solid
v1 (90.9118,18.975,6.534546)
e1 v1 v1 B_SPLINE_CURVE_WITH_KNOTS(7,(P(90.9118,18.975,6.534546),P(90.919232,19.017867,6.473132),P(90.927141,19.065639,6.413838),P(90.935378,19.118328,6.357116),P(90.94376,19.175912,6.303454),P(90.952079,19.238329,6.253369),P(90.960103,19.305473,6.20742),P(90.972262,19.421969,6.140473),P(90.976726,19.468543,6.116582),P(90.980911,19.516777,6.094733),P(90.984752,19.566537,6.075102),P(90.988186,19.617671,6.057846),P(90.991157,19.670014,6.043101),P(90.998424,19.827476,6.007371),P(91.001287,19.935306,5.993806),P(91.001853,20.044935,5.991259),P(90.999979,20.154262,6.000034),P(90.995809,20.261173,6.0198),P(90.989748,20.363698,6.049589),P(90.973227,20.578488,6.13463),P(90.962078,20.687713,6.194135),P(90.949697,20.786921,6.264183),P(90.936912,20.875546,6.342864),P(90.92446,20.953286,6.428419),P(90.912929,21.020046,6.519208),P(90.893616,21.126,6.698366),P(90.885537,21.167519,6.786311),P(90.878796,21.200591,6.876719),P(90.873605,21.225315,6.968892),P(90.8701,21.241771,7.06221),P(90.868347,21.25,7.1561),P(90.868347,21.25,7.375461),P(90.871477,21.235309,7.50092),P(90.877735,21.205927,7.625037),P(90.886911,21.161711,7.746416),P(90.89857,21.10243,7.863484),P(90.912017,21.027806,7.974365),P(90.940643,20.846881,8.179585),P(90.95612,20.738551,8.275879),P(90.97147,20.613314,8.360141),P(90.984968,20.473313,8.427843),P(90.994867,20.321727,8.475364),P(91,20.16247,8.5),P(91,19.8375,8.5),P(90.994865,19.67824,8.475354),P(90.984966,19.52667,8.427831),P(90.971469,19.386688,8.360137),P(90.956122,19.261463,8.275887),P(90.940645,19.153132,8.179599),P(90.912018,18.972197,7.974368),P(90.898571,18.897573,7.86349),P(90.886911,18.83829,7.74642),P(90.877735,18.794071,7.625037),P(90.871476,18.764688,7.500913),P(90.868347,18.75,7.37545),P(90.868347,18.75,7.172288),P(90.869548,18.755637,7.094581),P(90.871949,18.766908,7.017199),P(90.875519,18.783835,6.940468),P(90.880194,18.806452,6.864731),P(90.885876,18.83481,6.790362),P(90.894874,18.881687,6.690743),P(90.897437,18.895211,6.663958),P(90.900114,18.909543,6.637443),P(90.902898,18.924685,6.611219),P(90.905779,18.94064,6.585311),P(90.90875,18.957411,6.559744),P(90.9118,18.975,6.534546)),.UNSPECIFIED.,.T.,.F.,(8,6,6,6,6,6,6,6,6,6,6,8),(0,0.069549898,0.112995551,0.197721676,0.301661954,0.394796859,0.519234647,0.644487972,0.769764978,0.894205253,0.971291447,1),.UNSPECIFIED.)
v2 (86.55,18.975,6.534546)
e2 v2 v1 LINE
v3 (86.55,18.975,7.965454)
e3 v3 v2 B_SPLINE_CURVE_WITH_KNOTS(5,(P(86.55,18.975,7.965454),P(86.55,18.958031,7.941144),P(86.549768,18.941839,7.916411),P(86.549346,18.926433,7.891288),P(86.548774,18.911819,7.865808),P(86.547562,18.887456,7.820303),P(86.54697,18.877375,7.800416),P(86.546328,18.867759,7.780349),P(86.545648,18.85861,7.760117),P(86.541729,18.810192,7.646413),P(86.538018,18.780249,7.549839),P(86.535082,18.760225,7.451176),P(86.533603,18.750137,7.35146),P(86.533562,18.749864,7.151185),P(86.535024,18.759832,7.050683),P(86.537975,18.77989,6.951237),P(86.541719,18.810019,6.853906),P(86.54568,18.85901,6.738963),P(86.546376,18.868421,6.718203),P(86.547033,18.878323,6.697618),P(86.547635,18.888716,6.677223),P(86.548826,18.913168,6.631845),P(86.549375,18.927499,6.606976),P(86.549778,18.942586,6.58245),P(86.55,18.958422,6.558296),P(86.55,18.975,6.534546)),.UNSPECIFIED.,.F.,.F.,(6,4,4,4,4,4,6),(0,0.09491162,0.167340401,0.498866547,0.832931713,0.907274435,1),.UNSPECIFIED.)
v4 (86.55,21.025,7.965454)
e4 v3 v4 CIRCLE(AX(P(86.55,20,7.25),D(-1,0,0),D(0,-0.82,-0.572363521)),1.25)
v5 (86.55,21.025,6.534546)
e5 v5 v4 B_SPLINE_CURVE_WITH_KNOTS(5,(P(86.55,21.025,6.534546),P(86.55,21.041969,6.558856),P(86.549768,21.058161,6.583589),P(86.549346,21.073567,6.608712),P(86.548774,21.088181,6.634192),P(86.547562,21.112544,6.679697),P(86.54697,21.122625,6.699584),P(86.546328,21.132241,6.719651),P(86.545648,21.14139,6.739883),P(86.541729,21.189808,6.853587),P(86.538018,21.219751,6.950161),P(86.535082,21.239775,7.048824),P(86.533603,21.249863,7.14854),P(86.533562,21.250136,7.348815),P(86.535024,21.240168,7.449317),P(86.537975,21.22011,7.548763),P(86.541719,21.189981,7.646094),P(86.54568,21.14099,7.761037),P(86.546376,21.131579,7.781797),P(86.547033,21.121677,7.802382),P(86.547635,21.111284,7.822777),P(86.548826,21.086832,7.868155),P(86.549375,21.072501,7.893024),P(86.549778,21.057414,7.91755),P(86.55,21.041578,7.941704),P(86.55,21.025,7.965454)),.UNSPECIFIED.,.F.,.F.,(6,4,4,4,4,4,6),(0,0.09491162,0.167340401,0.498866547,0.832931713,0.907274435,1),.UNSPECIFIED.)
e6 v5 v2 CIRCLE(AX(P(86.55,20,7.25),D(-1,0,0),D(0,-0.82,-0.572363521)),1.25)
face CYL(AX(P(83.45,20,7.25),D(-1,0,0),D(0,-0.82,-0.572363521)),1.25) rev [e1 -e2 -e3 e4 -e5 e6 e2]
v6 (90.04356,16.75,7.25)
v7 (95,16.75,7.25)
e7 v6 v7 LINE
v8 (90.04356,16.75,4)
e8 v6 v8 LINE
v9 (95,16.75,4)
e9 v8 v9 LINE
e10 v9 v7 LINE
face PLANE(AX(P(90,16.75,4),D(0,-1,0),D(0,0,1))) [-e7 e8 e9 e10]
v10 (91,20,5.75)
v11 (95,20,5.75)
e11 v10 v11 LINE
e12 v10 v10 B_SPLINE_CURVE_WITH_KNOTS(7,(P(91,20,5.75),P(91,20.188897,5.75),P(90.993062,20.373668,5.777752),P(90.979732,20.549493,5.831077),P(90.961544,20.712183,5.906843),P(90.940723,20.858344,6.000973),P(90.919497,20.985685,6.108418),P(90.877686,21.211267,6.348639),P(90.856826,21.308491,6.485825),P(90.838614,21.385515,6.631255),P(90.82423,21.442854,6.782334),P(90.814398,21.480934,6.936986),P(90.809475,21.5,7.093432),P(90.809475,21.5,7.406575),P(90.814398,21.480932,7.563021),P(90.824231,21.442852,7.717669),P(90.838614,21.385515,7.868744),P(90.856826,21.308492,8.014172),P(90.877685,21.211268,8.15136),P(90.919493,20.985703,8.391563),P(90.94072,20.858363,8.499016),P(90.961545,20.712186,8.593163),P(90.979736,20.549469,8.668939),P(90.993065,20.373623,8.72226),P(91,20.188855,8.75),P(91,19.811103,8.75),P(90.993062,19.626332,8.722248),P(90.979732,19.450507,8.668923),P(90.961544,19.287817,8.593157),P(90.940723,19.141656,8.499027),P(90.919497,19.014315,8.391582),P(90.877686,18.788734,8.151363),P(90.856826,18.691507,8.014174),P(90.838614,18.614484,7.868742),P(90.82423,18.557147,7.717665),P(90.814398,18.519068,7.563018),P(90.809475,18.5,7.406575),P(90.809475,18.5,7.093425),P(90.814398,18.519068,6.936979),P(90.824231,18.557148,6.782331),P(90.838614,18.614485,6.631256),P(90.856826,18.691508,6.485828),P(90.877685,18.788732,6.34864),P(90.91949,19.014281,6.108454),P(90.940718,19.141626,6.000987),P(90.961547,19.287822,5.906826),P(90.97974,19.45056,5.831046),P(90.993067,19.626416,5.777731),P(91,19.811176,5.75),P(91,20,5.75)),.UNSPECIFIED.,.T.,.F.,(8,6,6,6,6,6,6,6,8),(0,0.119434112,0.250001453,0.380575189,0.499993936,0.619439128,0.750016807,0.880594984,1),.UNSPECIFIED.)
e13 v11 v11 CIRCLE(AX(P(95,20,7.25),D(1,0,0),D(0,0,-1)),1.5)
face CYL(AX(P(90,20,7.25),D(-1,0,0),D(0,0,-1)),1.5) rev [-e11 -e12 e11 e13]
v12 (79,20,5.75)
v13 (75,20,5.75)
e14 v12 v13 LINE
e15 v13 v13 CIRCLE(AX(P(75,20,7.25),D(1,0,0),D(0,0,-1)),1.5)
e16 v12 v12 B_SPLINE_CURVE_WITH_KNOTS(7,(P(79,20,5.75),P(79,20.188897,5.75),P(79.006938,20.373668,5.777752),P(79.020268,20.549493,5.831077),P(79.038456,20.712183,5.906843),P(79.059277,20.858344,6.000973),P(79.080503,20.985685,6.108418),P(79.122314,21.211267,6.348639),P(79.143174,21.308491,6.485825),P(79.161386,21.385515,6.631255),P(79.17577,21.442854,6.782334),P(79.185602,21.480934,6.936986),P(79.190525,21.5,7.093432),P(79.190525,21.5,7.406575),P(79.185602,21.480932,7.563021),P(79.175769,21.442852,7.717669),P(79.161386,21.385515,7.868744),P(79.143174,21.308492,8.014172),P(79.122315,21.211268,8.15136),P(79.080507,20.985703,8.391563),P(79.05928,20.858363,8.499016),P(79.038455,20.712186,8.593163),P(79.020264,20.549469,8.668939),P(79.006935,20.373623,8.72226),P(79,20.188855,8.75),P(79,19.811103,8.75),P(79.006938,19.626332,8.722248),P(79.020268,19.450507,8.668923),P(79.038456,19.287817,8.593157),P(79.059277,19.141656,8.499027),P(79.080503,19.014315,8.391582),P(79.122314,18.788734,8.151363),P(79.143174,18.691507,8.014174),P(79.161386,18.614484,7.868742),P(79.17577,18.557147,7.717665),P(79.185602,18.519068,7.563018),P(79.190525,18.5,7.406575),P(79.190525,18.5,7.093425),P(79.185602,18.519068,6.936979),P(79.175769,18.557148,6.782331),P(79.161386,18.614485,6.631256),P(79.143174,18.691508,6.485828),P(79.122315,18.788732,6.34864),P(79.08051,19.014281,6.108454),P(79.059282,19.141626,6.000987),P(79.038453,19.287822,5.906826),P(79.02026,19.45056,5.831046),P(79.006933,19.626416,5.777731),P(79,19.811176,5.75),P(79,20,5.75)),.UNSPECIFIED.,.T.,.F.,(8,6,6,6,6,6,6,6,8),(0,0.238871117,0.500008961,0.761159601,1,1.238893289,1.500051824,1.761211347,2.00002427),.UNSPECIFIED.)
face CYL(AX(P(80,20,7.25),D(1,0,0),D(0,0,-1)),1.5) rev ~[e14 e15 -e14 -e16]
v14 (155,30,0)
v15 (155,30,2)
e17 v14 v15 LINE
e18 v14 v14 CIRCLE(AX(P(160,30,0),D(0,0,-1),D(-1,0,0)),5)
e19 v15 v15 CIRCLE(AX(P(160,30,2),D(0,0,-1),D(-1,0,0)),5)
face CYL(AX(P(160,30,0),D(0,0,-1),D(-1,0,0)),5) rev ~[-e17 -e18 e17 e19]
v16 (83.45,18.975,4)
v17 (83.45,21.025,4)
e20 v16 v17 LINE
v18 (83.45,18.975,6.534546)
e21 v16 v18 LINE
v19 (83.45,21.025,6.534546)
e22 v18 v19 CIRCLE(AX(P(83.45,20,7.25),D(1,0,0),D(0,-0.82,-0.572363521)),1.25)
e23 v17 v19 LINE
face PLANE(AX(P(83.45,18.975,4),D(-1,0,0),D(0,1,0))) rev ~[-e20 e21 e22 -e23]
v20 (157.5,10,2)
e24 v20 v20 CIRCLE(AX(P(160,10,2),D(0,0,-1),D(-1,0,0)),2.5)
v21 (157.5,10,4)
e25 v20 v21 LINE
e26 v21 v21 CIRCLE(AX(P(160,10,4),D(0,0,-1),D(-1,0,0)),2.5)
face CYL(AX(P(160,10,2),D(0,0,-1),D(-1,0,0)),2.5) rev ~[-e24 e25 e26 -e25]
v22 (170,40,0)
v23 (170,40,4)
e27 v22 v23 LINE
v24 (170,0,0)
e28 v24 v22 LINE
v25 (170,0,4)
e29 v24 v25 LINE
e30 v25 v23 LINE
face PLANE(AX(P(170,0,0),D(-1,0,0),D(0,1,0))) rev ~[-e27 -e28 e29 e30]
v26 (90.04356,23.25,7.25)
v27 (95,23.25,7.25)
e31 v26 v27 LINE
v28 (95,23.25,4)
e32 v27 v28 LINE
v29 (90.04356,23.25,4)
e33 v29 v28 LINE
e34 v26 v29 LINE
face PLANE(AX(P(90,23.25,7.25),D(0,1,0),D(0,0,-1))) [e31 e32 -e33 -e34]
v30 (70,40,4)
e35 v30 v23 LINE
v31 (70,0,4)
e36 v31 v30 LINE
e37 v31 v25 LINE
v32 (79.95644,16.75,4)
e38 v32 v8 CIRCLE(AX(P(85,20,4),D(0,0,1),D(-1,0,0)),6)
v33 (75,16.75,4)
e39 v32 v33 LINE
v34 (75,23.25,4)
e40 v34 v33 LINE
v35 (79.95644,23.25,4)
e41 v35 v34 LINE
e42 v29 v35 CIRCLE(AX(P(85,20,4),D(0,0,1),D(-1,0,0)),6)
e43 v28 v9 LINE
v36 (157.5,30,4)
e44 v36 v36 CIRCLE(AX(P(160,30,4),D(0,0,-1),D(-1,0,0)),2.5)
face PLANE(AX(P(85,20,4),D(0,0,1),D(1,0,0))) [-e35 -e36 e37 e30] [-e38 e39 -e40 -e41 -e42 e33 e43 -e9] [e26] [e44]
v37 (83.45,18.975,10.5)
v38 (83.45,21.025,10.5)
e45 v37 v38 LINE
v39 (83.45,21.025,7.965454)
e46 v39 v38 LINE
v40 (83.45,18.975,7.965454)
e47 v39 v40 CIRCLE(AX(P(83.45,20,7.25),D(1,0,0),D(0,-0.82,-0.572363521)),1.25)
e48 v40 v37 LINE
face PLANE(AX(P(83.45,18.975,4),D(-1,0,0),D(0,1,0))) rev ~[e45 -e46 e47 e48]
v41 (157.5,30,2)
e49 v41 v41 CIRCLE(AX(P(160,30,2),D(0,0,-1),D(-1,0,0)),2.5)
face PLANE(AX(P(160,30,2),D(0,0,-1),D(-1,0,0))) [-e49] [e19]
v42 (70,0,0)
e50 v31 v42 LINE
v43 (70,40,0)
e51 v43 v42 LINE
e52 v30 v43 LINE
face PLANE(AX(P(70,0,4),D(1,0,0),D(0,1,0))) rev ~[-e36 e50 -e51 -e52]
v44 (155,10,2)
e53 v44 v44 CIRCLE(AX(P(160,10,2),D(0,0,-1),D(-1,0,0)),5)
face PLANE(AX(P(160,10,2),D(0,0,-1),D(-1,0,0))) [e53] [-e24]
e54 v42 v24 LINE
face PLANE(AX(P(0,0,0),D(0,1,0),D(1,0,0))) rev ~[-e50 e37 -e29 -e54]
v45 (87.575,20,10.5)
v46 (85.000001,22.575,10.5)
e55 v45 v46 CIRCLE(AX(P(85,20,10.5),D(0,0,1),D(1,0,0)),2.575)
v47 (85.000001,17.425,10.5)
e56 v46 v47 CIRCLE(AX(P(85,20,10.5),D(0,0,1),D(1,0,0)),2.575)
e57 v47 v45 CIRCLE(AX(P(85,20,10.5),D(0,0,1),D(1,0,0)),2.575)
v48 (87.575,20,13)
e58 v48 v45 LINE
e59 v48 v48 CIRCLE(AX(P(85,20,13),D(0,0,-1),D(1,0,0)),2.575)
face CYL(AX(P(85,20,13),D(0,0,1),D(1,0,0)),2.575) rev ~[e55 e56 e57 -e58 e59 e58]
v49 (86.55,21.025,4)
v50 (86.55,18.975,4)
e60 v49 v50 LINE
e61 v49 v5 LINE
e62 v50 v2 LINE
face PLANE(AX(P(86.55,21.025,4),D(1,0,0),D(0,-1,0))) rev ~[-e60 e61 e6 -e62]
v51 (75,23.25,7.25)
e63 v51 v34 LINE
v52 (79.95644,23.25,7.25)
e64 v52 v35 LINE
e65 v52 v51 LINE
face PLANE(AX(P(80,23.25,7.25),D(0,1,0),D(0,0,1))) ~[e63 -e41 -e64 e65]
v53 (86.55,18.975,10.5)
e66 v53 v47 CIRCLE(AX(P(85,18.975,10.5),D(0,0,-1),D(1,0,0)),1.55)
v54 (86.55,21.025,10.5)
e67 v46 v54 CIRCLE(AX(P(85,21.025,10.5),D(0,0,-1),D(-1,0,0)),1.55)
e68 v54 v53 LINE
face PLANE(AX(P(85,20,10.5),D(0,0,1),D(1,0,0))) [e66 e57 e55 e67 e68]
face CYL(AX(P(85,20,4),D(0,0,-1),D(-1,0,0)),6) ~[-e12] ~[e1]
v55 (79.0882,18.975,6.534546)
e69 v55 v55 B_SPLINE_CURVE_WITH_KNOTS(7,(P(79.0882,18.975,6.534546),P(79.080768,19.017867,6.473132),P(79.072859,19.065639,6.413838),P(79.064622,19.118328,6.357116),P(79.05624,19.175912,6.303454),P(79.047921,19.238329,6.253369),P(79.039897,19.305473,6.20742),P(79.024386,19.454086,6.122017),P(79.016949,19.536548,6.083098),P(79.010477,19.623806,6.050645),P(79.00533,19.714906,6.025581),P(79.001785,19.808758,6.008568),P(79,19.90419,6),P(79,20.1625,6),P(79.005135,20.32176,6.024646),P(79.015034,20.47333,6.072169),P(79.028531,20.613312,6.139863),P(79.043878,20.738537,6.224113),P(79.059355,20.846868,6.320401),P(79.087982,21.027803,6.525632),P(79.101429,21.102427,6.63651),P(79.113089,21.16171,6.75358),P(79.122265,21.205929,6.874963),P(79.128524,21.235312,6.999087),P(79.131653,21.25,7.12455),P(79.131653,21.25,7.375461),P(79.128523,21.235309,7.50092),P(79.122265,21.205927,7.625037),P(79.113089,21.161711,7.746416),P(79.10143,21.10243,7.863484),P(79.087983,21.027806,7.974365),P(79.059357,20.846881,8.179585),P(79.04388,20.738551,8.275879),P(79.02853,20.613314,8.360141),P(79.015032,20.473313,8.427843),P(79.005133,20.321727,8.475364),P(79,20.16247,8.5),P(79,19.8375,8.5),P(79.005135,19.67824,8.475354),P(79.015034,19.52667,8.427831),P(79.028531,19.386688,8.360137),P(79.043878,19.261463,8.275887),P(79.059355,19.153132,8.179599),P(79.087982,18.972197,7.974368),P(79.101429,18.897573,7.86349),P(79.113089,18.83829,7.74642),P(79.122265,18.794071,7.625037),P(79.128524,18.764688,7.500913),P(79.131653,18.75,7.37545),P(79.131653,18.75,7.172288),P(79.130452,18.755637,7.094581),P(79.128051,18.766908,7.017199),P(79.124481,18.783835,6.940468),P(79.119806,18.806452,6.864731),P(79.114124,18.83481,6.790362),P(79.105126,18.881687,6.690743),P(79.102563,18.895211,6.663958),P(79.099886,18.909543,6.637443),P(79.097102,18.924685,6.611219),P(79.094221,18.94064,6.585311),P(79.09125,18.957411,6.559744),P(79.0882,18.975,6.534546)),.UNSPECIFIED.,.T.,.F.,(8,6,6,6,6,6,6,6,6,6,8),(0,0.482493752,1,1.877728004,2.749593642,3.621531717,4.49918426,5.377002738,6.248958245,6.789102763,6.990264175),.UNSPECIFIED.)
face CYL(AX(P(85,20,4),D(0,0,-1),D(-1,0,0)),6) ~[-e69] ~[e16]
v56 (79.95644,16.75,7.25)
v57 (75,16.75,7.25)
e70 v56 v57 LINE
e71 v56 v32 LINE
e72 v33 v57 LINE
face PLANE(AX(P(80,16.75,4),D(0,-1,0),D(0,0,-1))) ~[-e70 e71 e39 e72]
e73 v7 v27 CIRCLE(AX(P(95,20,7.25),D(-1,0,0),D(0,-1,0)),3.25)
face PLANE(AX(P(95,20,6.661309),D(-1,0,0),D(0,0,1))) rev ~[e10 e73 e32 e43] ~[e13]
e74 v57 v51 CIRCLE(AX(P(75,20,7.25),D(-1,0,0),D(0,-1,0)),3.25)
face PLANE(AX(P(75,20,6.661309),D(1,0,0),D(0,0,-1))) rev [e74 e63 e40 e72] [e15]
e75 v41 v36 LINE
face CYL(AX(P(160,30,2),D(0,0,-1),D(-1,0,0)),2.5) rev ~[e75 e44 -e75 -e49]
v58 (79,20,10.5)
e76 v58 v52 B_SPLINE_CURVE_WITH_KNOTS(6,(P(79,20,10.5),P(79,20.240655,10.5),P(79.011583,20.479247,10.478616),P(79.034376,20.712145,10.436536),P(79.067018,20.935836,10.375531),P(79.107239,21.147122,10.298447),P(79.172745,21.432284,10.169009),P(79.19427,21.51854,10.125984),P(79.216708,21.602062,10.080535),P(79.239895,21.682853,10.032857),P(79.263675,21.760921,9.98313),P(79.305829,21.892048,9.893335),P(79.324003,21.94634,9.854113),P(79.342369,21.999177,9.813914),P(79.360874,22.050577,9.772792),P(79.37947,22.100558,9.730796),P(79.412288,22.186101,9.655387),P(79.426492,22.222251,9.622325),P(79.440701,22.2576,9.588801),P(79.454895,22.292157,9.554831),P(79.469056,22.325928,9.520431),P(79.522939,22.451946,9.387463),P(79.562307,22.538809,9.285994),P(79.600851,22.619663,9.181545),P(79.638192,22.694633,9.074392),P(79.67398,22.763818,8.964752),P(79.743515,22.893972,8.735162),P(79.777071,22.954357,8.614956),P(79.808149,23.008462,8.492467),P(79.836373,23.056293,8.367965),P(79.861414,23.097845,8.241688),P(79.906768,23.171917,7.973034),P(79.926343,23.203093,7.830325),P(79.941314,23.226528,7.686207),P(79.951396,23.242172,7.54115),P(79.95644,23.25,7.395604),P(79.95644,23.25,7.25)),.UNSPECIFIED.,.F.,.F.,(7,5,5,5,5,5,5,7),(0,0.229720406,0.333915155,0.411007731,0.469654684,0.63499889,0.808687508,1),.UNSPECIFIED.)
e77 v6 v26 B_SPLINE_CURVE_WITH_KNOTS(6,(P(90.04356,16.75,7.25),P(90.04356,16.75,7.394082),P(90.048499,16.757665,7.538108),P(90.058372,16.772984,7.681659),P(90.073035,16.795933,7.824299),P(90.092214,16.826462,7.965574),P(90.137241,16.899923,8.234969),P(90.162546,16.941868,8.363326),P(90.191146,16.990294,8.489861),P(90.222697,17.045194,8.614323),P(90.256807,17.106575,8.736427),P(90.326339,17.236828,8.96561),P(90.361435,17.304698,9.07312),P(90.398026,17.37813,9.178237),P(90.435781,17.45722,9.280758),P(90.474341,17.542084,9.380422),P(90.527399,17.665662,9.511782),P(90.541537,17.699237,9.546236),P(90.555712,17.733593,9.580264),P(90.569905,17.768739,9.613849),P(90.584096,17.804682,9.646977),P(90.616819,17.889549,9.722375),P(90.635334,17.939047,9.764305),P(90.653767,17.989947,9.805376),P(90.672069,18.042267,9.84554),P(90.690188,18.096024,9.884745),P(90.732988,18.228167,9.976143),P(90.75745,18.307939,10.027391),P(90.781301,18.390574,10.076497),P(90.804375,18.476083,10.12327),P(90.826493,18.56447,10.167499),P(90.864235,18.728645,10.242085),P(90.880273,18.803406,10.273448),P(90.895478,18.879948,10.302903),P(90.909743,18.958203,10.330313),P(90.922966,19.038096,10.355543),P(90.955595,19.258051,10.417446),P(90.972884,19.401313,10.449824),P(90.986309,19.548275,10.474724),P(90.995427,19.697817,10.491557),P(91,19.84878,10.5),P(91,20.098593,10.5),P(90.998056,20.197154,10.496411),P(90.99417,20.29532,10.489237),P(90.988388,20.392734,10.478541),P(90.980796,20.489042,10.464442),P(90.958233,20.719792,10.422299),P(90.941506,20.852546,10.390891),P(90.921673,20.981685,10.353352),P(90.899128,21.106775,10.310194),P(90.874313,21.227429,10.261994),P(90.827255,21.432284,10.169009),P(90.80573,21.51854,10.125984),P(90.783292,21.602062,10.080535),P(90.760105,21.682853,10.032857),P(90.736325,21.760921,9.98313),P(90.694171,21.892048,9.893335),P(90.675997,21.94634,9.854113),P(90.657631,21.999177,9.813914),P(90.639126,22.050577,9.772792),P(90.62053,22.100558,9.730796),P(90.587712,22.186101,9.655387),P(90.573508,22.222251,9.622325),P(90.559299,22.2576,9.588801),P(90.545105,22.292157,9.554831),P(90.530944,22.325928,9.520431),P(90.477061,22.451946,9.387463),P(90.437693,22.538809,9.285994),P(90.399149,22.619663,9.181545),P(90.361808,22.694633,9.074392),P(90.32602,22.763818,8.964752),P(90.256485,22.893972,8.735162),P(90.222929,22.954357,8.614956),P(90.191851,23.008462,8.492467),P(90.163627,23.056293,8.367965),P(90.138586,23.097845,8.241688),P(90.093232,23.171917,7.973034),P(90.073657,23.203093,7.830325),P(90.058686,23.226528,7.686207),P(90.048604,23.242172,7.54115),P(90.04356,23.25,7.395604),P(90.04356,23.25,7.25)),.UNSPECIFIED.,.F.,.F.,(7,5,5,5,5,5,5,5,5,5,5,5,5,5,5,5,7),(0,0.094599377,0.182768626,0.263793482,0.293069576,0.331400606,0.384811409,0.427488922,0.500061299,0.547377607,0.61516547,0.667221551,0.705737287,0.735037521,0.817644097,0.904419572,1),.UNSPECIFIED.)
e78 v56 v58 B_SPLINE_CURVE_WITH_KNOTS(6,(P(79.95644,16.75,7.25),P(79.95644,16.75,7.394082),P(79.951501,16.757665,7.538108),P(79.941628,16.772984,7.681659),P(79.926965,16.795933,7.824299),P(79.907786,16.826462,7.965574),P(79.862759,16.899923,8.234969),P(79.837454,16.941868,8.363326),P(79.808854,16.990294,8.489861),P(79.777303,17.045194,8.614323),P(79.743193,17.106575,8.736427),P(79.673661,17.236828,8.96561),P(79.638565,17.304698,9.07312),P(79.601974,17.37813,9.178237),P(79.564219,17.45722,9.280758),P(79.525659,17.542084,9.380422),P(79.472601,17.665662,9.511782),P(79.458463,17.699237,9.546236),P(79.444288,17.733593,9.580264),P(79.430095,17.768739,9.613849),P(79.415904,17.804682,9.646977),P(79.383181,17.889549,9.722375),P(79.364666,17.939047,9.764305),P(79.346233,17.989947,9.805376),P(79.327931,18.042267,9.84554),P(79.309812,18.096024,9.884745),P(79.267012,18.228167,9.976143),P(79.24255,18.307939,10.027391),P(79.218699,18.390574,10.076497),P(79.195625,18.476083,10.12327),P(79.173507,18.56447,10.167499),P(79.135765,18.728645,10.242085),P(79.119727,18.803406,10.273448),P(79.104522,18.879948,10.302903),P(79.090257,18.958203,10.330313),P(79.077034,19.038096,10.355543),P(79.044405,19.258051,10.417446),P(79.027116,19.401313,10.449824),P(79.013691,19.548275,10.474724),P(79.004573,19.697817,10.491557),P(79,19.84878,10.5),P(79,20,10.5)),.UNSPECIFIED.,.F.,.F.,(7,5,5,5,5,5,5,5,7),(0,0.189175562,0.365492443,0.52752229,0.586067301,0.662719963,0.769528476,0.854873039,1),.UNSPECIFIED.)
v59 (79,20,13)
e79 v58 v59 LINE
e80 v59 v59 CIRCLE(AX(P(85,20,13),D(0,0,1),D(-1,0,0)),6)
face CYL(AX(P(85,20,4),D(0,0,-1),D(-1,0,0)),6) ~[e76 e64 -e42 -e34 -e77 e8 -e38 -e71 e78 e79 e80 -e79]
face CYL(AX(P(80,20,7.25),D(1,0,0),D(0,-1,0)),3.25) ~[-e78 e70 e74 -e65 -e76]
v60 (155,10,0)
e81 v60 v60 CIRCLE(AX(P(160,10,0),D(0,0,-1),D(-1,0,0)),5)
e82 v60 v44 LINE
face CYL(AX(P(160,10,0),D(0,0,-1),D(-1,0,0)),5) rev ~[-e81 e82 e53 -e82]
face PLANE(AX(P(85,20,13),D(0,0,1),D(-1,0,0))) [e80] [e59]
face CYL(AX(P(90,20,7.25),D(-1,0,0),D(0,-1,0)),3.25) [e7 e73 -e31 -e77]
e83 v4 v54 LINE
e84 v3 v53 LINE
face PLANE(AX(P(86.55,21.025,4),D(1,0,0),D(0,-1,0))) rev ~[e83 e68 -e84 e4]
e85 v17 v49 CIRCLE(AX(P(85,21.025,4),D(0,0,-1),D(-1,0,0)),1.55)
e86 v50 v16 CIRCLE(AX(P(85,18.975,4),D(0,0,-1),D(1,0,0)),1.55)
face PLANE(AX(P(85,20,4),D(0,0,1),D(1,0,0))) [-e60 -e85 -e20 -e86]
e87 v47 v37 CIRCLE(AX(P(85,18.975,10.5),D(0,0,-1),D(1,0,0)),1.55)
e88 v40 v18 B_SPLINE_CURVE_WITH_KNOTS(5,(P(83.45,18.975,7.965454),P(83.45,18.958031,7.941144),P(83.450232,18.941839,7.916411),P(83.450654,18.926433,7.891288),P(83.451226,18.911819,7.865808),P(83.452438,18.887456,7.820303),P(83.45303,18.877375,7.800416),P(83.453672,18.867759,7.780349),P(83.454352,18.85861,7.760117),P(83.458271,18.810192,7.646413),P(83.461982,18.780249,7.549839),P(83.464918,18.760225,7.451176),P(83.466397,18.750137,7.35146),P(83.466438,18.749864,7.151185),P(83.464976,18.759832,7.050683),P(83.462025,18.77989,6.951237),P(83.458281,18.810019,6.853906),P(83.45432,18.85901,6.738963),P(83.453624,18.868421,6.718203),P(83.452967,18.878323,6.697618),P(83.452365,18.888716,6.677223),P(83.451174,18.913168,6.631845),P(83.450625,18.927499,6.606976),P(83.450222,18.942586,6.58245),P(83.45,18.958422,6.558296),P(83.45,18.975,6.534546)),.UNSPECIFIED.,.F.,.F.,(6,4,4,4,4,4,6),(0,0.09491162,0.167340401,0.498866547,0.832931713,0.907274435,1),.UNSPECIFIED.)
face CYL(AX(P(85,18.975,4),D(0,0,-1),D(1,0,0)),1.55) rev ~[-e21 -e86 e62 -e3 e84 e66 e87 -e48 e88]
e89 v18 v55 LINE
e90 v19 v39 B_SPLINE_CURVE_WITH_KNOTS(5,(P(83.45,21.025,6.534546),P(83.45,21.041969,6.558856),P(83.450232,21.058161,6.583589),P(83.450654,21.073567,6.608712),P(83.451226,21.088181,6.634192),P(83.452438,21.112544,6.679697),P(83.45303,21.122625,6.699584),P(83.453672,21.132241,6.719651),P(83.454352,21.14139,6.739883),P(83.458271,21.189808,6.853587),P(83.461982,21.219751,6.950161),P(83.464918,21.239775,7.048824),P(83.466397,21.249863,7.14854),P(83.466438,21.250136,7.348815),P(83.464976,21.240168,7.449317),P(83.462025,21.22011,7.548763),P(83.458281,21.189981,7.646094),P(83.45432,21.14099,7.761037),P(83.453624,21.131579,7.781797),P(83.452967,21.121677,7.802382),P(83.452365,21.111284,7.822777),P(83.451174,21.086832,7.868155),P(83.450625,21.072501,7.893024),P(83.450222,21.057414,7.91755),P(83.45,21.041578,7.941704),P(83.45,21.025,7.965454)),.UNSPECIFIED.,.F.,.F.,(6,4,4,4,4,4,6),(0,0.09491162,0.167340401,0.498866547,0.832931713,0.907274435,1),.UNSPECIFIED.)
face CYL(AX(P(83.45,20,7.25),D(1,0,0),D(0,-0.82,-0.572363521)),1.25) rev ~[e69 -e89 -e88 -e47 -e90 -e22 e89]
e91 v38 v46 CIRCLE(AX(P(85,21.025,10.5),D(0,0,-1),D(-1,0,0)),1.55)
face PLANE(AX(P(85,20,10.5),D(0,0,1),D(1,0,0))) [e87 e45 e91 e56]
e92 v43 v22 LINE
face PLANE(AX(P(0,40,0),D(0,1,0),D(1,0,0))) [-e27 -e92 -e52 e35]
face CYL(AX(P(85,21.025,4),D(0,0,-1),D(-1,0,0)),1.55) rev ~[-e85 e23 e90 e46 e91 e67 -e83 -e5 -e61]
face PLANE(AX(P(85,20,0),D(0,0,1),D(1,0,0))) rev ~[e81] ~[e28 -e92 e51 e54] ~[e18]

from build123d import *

# Parameters (mm, degrees)
SKETCH1_W                           = 170
SKETCH1_H                           = 40
BOSS_EXTRUDE1_DEPTH                 = 4
SKETCH2_R                           = 6
BOSS_EXTRUDE2_DEPTH                 = 9
SKETCH3_R                           = 2.575
CUT_EXTRUDE1_DEPTH                  = 2.5
CUT_EXTRUDE2_REACH                  = 98.228
CUT_EXTRUDE2_END_RADIUS             = 6
SKETCH4_R                           = 1.25
CUT_EXTRUDE2_DIRECTION_2_REACH      = 98.228
CUT_EXTRUDE2_DIRECTION_2_END_RADIUS = 6
BOSS_EXTRUDE3_START                 = -1
SKETCH6_R                           = 1.5
BOSS_EXTRUDE3_DEPTH                 = 5
SKETCH8_R                           = 5
CUT_EXTRUDE3_DEPTH                  = 2
CUT_EXTRUDE4_REACH                  = 176.989
SKETCH9_R                           = 2.5
CUT_EXTRUDE5_REACH                  = 176.874
SKETCH10_W                          = 70
SKETCH10_H                          = 40


with BuildPart() as part:
    # Sketch1 → Boss-Extrude1 (new body)
    with BuildSketch(Plane.XY):
        with Locations((85, 20)):
            Rectangle(SKETCH1_W, SKETCH1_H)
    extrude(amount=BOSS_EXTRUDE1_DEPTH)

    # Sketch2 → Boss-Extrude2 (add)
    with BuildSketch(Plane.XY.offset(4)):
        with Locations(Location((85, 20, 0), (0, 0, 180))):
            Circle(SKETCH2_R)
        with BuildLine():
            Line((83.45, 18.975), (83.45, 21.025))
            ThreePointArc((83.45, 21.025), (85, 22.575), (86.55, 21.025))
            Line((86.55, 21.025), (86.55, 18.975))
            ThreePointArc((86.55, 18.975), (85, 17.425), (83.45, 18.975))
        make_face(mode=Mode.SUBTRACT)
    extrude(amount=BOSS_EXTRUDE2_DEPTH)

    # Sketch3 → Cut-Extrude1 (cut)
    with BuildSketch(Plane.XY.offset(13)):
        with Locations((85, 20)):
            Circle(SKETCH3_R)
    extrude(amount=-CUT_EXTRUDE1_DEPTH, mode=Mode.SUBTRACT)

    # Cut-Extrude2: up to this cylinder (the profile starts inside it)
    cut_extrude2_end = Plane(origin=(85, 20, 7.25), z_dir=(0, 0, -1)) * Cylinder(CUT_EXTRUDE2_END_RADIUS, 209.456, mode=Mode.PRIVATE)
    # Sketch4 → Cut-Extrude2 (cut, up to the surface)
    with BuildSketch(Plane(origin=(83.45, 0, 0), x_dir=(0, 0, -1), z_dir=(1, 0, 0)), mode=Mode.PRIVATE) as cut_extrude2_sk1:
        with Locations(Location((-7.25, 20, 0), (0, 0, 304.915206247))):
            Circle(SKETCH4_R)
    cut_extrude2_tool1 = extrude(cut_extrude2_sk1.sketch, amount=-CUT_EXTRUDE2_REACH, mode=Mode.PRIVATE) & cut_extrude2_end
    add(cut_extrude2_tool1.solids().sort_by_distance((83.45, 20, 7.25))[0], mode=Mode.SUBTRACT)

    # Cut-Extrude2 direction 2: up to this cylinder (the profile starts inside it)
    cut_extrude2_direction_2_end = Plane(origin=(85, 20, 7.25), z_dir=(0, 0, -1)) * Cylinder(CUT_EXTRUDE2_DIRECTION_2_END_RADIUS, 209.456, mode=Mode.PRIVATE)
    # Sketch4 → Cut-Extrude2 direction 2 (cut, up to the surface)
    with BuildSketch(Plane(origin=(83.45, 0, 0), x_dir=(0, 0, -1), z_dir=(1, 0, 0)), mode=Mode.PRIVATE) as cut_extrude2_direction_2_sk1:
        with Locations(Location((-7.25, 20, 0), (0, 0, 304.915206247))):
            Circle(SKETCH4_R)
    cut_extrude2_direction_2_tool1 = extrude(cut_extrude2_direction_2_sk1.sketch, amount=CUT_EXTRUDE2_DIRECTION_2_REACH, mode=Mode.PRIVATE) & cut_extrude2_direction_2_end
    add(cut_extrude2_direction_2_tool1.solids().sort_by_distance((83.45, 20, 7.25))[0], mode=Mode.SUBTRACT)

    # Sketch6 → Boss-Extrude3 (add)
    with BuildSketch(Plane(origin=(91, 0, 0), x_dir=(0, 0, -1), z_dir=(1, 0, 0)).offset(BOSS_EXTRUDE3_START)):
        with BuildLine():
            Line((-7.25, 23.25), (-4, 23.25))
            Line((-4, 23.25), (-4, 16.75))
            Line((-4, 16.75), (-7.25, 16.75))
            ThreePointArc((-7.25, 16.75), (-10.5, 20), (-7.25, 23.25))
        make_face()
        with Locations((-7.25, 20)):
            Circle(SKETCH6_R, mode=Mode.SUBTRACT)
    boss_extrude3 = extrude(amount=BOSS_EXTRUDE3_DEPTH)

    # Mirror1: Boss-Extrude3 across plane
    add(boss_extrude3.mirror(Plane.ZY.offset(-85)))

    # Sketch8 → Cut-Extrude3 (cut)
    with BuildSketch(Plane(origin=(0, 0, 0), x_dir=(-1, 0, 0), z_dir=(0, 0, -1))):
        with Locations((-160, 30)):
            Circle(SKETCH8_R)
        with Locations((-160, 10)):
            Circle(SKETCH8_R)
    extrude(amount=-CUT_EXTRUDE3_DEPTH, mode=Mode.SUBTRACT)

    # Sketch9 → Cut-Extrude4 (cut, up to next)
    with BuildSketch(Plane(origin=(0, 0, 2), x_dir=(-1, 0, 0), z_dir=(0, 0, -1)), mode=Mode.PRIVATE) as cut_extrude4_sk1:
        with Locations((-160, 10)):
            Circle(SKETCH9_R)
    cut_extrude4_tool1 = extrude(cut_extrude4_sk1.sketch, amount=-CUT_EXTRUDE4_REACH, mode=Mode.PRIVATE) & part.part
    # Sketch9 → Cut-Extrude4 (cut, up to next)
    with BuildSketch(Plane(origin=(0, 0, 2), x_dir=(-1, 0, 0), z_dir=(0, 0, -1)), mode=Mode.PRIVATE) as cut_extrude4_sk2:
        with Locations((-160, 30)):
            Circle(SKETCH9_R)
    cut_extrude4_tool2 = extrude(cut_extrude4_sk2.sketch, amount=-CUT_EXTRUDE4_REACH, mode=Mode.PRIVATE) & part.part
    add(cut_extrude4_tool1.solids().sort_by_distance((160, 10, 2))[0], mode=Mode.SUBTRACT)
    add(cut_extrude4_tool2.solids().sort_by_distance((160, 30, 2))[0], mode=Mode.SUBTRACT)

    # Sketch10 → Cut-Extrude5 (cut, up to next)
    with BuildSketch(Plane.XY.offset(4), mode=Mode.PRIVATE) as cut_extrude5_sk1:
        with Locations((35, 20)):
            Rectangle(SKETCH10_W, SKETCH10_H)
    cut_extrude5_tool1 = extrude(cut_extrude5_sk1.sketch, amount=-CUT_EXTRUDE5_REACH, mode=Mode.PRIVATE) & part.part
    add(cut_extrude5_tool1.solids().sort_by_distance((35, 20, 4))[0], mode=Mode.SUBTRACT)


solid = part.part
